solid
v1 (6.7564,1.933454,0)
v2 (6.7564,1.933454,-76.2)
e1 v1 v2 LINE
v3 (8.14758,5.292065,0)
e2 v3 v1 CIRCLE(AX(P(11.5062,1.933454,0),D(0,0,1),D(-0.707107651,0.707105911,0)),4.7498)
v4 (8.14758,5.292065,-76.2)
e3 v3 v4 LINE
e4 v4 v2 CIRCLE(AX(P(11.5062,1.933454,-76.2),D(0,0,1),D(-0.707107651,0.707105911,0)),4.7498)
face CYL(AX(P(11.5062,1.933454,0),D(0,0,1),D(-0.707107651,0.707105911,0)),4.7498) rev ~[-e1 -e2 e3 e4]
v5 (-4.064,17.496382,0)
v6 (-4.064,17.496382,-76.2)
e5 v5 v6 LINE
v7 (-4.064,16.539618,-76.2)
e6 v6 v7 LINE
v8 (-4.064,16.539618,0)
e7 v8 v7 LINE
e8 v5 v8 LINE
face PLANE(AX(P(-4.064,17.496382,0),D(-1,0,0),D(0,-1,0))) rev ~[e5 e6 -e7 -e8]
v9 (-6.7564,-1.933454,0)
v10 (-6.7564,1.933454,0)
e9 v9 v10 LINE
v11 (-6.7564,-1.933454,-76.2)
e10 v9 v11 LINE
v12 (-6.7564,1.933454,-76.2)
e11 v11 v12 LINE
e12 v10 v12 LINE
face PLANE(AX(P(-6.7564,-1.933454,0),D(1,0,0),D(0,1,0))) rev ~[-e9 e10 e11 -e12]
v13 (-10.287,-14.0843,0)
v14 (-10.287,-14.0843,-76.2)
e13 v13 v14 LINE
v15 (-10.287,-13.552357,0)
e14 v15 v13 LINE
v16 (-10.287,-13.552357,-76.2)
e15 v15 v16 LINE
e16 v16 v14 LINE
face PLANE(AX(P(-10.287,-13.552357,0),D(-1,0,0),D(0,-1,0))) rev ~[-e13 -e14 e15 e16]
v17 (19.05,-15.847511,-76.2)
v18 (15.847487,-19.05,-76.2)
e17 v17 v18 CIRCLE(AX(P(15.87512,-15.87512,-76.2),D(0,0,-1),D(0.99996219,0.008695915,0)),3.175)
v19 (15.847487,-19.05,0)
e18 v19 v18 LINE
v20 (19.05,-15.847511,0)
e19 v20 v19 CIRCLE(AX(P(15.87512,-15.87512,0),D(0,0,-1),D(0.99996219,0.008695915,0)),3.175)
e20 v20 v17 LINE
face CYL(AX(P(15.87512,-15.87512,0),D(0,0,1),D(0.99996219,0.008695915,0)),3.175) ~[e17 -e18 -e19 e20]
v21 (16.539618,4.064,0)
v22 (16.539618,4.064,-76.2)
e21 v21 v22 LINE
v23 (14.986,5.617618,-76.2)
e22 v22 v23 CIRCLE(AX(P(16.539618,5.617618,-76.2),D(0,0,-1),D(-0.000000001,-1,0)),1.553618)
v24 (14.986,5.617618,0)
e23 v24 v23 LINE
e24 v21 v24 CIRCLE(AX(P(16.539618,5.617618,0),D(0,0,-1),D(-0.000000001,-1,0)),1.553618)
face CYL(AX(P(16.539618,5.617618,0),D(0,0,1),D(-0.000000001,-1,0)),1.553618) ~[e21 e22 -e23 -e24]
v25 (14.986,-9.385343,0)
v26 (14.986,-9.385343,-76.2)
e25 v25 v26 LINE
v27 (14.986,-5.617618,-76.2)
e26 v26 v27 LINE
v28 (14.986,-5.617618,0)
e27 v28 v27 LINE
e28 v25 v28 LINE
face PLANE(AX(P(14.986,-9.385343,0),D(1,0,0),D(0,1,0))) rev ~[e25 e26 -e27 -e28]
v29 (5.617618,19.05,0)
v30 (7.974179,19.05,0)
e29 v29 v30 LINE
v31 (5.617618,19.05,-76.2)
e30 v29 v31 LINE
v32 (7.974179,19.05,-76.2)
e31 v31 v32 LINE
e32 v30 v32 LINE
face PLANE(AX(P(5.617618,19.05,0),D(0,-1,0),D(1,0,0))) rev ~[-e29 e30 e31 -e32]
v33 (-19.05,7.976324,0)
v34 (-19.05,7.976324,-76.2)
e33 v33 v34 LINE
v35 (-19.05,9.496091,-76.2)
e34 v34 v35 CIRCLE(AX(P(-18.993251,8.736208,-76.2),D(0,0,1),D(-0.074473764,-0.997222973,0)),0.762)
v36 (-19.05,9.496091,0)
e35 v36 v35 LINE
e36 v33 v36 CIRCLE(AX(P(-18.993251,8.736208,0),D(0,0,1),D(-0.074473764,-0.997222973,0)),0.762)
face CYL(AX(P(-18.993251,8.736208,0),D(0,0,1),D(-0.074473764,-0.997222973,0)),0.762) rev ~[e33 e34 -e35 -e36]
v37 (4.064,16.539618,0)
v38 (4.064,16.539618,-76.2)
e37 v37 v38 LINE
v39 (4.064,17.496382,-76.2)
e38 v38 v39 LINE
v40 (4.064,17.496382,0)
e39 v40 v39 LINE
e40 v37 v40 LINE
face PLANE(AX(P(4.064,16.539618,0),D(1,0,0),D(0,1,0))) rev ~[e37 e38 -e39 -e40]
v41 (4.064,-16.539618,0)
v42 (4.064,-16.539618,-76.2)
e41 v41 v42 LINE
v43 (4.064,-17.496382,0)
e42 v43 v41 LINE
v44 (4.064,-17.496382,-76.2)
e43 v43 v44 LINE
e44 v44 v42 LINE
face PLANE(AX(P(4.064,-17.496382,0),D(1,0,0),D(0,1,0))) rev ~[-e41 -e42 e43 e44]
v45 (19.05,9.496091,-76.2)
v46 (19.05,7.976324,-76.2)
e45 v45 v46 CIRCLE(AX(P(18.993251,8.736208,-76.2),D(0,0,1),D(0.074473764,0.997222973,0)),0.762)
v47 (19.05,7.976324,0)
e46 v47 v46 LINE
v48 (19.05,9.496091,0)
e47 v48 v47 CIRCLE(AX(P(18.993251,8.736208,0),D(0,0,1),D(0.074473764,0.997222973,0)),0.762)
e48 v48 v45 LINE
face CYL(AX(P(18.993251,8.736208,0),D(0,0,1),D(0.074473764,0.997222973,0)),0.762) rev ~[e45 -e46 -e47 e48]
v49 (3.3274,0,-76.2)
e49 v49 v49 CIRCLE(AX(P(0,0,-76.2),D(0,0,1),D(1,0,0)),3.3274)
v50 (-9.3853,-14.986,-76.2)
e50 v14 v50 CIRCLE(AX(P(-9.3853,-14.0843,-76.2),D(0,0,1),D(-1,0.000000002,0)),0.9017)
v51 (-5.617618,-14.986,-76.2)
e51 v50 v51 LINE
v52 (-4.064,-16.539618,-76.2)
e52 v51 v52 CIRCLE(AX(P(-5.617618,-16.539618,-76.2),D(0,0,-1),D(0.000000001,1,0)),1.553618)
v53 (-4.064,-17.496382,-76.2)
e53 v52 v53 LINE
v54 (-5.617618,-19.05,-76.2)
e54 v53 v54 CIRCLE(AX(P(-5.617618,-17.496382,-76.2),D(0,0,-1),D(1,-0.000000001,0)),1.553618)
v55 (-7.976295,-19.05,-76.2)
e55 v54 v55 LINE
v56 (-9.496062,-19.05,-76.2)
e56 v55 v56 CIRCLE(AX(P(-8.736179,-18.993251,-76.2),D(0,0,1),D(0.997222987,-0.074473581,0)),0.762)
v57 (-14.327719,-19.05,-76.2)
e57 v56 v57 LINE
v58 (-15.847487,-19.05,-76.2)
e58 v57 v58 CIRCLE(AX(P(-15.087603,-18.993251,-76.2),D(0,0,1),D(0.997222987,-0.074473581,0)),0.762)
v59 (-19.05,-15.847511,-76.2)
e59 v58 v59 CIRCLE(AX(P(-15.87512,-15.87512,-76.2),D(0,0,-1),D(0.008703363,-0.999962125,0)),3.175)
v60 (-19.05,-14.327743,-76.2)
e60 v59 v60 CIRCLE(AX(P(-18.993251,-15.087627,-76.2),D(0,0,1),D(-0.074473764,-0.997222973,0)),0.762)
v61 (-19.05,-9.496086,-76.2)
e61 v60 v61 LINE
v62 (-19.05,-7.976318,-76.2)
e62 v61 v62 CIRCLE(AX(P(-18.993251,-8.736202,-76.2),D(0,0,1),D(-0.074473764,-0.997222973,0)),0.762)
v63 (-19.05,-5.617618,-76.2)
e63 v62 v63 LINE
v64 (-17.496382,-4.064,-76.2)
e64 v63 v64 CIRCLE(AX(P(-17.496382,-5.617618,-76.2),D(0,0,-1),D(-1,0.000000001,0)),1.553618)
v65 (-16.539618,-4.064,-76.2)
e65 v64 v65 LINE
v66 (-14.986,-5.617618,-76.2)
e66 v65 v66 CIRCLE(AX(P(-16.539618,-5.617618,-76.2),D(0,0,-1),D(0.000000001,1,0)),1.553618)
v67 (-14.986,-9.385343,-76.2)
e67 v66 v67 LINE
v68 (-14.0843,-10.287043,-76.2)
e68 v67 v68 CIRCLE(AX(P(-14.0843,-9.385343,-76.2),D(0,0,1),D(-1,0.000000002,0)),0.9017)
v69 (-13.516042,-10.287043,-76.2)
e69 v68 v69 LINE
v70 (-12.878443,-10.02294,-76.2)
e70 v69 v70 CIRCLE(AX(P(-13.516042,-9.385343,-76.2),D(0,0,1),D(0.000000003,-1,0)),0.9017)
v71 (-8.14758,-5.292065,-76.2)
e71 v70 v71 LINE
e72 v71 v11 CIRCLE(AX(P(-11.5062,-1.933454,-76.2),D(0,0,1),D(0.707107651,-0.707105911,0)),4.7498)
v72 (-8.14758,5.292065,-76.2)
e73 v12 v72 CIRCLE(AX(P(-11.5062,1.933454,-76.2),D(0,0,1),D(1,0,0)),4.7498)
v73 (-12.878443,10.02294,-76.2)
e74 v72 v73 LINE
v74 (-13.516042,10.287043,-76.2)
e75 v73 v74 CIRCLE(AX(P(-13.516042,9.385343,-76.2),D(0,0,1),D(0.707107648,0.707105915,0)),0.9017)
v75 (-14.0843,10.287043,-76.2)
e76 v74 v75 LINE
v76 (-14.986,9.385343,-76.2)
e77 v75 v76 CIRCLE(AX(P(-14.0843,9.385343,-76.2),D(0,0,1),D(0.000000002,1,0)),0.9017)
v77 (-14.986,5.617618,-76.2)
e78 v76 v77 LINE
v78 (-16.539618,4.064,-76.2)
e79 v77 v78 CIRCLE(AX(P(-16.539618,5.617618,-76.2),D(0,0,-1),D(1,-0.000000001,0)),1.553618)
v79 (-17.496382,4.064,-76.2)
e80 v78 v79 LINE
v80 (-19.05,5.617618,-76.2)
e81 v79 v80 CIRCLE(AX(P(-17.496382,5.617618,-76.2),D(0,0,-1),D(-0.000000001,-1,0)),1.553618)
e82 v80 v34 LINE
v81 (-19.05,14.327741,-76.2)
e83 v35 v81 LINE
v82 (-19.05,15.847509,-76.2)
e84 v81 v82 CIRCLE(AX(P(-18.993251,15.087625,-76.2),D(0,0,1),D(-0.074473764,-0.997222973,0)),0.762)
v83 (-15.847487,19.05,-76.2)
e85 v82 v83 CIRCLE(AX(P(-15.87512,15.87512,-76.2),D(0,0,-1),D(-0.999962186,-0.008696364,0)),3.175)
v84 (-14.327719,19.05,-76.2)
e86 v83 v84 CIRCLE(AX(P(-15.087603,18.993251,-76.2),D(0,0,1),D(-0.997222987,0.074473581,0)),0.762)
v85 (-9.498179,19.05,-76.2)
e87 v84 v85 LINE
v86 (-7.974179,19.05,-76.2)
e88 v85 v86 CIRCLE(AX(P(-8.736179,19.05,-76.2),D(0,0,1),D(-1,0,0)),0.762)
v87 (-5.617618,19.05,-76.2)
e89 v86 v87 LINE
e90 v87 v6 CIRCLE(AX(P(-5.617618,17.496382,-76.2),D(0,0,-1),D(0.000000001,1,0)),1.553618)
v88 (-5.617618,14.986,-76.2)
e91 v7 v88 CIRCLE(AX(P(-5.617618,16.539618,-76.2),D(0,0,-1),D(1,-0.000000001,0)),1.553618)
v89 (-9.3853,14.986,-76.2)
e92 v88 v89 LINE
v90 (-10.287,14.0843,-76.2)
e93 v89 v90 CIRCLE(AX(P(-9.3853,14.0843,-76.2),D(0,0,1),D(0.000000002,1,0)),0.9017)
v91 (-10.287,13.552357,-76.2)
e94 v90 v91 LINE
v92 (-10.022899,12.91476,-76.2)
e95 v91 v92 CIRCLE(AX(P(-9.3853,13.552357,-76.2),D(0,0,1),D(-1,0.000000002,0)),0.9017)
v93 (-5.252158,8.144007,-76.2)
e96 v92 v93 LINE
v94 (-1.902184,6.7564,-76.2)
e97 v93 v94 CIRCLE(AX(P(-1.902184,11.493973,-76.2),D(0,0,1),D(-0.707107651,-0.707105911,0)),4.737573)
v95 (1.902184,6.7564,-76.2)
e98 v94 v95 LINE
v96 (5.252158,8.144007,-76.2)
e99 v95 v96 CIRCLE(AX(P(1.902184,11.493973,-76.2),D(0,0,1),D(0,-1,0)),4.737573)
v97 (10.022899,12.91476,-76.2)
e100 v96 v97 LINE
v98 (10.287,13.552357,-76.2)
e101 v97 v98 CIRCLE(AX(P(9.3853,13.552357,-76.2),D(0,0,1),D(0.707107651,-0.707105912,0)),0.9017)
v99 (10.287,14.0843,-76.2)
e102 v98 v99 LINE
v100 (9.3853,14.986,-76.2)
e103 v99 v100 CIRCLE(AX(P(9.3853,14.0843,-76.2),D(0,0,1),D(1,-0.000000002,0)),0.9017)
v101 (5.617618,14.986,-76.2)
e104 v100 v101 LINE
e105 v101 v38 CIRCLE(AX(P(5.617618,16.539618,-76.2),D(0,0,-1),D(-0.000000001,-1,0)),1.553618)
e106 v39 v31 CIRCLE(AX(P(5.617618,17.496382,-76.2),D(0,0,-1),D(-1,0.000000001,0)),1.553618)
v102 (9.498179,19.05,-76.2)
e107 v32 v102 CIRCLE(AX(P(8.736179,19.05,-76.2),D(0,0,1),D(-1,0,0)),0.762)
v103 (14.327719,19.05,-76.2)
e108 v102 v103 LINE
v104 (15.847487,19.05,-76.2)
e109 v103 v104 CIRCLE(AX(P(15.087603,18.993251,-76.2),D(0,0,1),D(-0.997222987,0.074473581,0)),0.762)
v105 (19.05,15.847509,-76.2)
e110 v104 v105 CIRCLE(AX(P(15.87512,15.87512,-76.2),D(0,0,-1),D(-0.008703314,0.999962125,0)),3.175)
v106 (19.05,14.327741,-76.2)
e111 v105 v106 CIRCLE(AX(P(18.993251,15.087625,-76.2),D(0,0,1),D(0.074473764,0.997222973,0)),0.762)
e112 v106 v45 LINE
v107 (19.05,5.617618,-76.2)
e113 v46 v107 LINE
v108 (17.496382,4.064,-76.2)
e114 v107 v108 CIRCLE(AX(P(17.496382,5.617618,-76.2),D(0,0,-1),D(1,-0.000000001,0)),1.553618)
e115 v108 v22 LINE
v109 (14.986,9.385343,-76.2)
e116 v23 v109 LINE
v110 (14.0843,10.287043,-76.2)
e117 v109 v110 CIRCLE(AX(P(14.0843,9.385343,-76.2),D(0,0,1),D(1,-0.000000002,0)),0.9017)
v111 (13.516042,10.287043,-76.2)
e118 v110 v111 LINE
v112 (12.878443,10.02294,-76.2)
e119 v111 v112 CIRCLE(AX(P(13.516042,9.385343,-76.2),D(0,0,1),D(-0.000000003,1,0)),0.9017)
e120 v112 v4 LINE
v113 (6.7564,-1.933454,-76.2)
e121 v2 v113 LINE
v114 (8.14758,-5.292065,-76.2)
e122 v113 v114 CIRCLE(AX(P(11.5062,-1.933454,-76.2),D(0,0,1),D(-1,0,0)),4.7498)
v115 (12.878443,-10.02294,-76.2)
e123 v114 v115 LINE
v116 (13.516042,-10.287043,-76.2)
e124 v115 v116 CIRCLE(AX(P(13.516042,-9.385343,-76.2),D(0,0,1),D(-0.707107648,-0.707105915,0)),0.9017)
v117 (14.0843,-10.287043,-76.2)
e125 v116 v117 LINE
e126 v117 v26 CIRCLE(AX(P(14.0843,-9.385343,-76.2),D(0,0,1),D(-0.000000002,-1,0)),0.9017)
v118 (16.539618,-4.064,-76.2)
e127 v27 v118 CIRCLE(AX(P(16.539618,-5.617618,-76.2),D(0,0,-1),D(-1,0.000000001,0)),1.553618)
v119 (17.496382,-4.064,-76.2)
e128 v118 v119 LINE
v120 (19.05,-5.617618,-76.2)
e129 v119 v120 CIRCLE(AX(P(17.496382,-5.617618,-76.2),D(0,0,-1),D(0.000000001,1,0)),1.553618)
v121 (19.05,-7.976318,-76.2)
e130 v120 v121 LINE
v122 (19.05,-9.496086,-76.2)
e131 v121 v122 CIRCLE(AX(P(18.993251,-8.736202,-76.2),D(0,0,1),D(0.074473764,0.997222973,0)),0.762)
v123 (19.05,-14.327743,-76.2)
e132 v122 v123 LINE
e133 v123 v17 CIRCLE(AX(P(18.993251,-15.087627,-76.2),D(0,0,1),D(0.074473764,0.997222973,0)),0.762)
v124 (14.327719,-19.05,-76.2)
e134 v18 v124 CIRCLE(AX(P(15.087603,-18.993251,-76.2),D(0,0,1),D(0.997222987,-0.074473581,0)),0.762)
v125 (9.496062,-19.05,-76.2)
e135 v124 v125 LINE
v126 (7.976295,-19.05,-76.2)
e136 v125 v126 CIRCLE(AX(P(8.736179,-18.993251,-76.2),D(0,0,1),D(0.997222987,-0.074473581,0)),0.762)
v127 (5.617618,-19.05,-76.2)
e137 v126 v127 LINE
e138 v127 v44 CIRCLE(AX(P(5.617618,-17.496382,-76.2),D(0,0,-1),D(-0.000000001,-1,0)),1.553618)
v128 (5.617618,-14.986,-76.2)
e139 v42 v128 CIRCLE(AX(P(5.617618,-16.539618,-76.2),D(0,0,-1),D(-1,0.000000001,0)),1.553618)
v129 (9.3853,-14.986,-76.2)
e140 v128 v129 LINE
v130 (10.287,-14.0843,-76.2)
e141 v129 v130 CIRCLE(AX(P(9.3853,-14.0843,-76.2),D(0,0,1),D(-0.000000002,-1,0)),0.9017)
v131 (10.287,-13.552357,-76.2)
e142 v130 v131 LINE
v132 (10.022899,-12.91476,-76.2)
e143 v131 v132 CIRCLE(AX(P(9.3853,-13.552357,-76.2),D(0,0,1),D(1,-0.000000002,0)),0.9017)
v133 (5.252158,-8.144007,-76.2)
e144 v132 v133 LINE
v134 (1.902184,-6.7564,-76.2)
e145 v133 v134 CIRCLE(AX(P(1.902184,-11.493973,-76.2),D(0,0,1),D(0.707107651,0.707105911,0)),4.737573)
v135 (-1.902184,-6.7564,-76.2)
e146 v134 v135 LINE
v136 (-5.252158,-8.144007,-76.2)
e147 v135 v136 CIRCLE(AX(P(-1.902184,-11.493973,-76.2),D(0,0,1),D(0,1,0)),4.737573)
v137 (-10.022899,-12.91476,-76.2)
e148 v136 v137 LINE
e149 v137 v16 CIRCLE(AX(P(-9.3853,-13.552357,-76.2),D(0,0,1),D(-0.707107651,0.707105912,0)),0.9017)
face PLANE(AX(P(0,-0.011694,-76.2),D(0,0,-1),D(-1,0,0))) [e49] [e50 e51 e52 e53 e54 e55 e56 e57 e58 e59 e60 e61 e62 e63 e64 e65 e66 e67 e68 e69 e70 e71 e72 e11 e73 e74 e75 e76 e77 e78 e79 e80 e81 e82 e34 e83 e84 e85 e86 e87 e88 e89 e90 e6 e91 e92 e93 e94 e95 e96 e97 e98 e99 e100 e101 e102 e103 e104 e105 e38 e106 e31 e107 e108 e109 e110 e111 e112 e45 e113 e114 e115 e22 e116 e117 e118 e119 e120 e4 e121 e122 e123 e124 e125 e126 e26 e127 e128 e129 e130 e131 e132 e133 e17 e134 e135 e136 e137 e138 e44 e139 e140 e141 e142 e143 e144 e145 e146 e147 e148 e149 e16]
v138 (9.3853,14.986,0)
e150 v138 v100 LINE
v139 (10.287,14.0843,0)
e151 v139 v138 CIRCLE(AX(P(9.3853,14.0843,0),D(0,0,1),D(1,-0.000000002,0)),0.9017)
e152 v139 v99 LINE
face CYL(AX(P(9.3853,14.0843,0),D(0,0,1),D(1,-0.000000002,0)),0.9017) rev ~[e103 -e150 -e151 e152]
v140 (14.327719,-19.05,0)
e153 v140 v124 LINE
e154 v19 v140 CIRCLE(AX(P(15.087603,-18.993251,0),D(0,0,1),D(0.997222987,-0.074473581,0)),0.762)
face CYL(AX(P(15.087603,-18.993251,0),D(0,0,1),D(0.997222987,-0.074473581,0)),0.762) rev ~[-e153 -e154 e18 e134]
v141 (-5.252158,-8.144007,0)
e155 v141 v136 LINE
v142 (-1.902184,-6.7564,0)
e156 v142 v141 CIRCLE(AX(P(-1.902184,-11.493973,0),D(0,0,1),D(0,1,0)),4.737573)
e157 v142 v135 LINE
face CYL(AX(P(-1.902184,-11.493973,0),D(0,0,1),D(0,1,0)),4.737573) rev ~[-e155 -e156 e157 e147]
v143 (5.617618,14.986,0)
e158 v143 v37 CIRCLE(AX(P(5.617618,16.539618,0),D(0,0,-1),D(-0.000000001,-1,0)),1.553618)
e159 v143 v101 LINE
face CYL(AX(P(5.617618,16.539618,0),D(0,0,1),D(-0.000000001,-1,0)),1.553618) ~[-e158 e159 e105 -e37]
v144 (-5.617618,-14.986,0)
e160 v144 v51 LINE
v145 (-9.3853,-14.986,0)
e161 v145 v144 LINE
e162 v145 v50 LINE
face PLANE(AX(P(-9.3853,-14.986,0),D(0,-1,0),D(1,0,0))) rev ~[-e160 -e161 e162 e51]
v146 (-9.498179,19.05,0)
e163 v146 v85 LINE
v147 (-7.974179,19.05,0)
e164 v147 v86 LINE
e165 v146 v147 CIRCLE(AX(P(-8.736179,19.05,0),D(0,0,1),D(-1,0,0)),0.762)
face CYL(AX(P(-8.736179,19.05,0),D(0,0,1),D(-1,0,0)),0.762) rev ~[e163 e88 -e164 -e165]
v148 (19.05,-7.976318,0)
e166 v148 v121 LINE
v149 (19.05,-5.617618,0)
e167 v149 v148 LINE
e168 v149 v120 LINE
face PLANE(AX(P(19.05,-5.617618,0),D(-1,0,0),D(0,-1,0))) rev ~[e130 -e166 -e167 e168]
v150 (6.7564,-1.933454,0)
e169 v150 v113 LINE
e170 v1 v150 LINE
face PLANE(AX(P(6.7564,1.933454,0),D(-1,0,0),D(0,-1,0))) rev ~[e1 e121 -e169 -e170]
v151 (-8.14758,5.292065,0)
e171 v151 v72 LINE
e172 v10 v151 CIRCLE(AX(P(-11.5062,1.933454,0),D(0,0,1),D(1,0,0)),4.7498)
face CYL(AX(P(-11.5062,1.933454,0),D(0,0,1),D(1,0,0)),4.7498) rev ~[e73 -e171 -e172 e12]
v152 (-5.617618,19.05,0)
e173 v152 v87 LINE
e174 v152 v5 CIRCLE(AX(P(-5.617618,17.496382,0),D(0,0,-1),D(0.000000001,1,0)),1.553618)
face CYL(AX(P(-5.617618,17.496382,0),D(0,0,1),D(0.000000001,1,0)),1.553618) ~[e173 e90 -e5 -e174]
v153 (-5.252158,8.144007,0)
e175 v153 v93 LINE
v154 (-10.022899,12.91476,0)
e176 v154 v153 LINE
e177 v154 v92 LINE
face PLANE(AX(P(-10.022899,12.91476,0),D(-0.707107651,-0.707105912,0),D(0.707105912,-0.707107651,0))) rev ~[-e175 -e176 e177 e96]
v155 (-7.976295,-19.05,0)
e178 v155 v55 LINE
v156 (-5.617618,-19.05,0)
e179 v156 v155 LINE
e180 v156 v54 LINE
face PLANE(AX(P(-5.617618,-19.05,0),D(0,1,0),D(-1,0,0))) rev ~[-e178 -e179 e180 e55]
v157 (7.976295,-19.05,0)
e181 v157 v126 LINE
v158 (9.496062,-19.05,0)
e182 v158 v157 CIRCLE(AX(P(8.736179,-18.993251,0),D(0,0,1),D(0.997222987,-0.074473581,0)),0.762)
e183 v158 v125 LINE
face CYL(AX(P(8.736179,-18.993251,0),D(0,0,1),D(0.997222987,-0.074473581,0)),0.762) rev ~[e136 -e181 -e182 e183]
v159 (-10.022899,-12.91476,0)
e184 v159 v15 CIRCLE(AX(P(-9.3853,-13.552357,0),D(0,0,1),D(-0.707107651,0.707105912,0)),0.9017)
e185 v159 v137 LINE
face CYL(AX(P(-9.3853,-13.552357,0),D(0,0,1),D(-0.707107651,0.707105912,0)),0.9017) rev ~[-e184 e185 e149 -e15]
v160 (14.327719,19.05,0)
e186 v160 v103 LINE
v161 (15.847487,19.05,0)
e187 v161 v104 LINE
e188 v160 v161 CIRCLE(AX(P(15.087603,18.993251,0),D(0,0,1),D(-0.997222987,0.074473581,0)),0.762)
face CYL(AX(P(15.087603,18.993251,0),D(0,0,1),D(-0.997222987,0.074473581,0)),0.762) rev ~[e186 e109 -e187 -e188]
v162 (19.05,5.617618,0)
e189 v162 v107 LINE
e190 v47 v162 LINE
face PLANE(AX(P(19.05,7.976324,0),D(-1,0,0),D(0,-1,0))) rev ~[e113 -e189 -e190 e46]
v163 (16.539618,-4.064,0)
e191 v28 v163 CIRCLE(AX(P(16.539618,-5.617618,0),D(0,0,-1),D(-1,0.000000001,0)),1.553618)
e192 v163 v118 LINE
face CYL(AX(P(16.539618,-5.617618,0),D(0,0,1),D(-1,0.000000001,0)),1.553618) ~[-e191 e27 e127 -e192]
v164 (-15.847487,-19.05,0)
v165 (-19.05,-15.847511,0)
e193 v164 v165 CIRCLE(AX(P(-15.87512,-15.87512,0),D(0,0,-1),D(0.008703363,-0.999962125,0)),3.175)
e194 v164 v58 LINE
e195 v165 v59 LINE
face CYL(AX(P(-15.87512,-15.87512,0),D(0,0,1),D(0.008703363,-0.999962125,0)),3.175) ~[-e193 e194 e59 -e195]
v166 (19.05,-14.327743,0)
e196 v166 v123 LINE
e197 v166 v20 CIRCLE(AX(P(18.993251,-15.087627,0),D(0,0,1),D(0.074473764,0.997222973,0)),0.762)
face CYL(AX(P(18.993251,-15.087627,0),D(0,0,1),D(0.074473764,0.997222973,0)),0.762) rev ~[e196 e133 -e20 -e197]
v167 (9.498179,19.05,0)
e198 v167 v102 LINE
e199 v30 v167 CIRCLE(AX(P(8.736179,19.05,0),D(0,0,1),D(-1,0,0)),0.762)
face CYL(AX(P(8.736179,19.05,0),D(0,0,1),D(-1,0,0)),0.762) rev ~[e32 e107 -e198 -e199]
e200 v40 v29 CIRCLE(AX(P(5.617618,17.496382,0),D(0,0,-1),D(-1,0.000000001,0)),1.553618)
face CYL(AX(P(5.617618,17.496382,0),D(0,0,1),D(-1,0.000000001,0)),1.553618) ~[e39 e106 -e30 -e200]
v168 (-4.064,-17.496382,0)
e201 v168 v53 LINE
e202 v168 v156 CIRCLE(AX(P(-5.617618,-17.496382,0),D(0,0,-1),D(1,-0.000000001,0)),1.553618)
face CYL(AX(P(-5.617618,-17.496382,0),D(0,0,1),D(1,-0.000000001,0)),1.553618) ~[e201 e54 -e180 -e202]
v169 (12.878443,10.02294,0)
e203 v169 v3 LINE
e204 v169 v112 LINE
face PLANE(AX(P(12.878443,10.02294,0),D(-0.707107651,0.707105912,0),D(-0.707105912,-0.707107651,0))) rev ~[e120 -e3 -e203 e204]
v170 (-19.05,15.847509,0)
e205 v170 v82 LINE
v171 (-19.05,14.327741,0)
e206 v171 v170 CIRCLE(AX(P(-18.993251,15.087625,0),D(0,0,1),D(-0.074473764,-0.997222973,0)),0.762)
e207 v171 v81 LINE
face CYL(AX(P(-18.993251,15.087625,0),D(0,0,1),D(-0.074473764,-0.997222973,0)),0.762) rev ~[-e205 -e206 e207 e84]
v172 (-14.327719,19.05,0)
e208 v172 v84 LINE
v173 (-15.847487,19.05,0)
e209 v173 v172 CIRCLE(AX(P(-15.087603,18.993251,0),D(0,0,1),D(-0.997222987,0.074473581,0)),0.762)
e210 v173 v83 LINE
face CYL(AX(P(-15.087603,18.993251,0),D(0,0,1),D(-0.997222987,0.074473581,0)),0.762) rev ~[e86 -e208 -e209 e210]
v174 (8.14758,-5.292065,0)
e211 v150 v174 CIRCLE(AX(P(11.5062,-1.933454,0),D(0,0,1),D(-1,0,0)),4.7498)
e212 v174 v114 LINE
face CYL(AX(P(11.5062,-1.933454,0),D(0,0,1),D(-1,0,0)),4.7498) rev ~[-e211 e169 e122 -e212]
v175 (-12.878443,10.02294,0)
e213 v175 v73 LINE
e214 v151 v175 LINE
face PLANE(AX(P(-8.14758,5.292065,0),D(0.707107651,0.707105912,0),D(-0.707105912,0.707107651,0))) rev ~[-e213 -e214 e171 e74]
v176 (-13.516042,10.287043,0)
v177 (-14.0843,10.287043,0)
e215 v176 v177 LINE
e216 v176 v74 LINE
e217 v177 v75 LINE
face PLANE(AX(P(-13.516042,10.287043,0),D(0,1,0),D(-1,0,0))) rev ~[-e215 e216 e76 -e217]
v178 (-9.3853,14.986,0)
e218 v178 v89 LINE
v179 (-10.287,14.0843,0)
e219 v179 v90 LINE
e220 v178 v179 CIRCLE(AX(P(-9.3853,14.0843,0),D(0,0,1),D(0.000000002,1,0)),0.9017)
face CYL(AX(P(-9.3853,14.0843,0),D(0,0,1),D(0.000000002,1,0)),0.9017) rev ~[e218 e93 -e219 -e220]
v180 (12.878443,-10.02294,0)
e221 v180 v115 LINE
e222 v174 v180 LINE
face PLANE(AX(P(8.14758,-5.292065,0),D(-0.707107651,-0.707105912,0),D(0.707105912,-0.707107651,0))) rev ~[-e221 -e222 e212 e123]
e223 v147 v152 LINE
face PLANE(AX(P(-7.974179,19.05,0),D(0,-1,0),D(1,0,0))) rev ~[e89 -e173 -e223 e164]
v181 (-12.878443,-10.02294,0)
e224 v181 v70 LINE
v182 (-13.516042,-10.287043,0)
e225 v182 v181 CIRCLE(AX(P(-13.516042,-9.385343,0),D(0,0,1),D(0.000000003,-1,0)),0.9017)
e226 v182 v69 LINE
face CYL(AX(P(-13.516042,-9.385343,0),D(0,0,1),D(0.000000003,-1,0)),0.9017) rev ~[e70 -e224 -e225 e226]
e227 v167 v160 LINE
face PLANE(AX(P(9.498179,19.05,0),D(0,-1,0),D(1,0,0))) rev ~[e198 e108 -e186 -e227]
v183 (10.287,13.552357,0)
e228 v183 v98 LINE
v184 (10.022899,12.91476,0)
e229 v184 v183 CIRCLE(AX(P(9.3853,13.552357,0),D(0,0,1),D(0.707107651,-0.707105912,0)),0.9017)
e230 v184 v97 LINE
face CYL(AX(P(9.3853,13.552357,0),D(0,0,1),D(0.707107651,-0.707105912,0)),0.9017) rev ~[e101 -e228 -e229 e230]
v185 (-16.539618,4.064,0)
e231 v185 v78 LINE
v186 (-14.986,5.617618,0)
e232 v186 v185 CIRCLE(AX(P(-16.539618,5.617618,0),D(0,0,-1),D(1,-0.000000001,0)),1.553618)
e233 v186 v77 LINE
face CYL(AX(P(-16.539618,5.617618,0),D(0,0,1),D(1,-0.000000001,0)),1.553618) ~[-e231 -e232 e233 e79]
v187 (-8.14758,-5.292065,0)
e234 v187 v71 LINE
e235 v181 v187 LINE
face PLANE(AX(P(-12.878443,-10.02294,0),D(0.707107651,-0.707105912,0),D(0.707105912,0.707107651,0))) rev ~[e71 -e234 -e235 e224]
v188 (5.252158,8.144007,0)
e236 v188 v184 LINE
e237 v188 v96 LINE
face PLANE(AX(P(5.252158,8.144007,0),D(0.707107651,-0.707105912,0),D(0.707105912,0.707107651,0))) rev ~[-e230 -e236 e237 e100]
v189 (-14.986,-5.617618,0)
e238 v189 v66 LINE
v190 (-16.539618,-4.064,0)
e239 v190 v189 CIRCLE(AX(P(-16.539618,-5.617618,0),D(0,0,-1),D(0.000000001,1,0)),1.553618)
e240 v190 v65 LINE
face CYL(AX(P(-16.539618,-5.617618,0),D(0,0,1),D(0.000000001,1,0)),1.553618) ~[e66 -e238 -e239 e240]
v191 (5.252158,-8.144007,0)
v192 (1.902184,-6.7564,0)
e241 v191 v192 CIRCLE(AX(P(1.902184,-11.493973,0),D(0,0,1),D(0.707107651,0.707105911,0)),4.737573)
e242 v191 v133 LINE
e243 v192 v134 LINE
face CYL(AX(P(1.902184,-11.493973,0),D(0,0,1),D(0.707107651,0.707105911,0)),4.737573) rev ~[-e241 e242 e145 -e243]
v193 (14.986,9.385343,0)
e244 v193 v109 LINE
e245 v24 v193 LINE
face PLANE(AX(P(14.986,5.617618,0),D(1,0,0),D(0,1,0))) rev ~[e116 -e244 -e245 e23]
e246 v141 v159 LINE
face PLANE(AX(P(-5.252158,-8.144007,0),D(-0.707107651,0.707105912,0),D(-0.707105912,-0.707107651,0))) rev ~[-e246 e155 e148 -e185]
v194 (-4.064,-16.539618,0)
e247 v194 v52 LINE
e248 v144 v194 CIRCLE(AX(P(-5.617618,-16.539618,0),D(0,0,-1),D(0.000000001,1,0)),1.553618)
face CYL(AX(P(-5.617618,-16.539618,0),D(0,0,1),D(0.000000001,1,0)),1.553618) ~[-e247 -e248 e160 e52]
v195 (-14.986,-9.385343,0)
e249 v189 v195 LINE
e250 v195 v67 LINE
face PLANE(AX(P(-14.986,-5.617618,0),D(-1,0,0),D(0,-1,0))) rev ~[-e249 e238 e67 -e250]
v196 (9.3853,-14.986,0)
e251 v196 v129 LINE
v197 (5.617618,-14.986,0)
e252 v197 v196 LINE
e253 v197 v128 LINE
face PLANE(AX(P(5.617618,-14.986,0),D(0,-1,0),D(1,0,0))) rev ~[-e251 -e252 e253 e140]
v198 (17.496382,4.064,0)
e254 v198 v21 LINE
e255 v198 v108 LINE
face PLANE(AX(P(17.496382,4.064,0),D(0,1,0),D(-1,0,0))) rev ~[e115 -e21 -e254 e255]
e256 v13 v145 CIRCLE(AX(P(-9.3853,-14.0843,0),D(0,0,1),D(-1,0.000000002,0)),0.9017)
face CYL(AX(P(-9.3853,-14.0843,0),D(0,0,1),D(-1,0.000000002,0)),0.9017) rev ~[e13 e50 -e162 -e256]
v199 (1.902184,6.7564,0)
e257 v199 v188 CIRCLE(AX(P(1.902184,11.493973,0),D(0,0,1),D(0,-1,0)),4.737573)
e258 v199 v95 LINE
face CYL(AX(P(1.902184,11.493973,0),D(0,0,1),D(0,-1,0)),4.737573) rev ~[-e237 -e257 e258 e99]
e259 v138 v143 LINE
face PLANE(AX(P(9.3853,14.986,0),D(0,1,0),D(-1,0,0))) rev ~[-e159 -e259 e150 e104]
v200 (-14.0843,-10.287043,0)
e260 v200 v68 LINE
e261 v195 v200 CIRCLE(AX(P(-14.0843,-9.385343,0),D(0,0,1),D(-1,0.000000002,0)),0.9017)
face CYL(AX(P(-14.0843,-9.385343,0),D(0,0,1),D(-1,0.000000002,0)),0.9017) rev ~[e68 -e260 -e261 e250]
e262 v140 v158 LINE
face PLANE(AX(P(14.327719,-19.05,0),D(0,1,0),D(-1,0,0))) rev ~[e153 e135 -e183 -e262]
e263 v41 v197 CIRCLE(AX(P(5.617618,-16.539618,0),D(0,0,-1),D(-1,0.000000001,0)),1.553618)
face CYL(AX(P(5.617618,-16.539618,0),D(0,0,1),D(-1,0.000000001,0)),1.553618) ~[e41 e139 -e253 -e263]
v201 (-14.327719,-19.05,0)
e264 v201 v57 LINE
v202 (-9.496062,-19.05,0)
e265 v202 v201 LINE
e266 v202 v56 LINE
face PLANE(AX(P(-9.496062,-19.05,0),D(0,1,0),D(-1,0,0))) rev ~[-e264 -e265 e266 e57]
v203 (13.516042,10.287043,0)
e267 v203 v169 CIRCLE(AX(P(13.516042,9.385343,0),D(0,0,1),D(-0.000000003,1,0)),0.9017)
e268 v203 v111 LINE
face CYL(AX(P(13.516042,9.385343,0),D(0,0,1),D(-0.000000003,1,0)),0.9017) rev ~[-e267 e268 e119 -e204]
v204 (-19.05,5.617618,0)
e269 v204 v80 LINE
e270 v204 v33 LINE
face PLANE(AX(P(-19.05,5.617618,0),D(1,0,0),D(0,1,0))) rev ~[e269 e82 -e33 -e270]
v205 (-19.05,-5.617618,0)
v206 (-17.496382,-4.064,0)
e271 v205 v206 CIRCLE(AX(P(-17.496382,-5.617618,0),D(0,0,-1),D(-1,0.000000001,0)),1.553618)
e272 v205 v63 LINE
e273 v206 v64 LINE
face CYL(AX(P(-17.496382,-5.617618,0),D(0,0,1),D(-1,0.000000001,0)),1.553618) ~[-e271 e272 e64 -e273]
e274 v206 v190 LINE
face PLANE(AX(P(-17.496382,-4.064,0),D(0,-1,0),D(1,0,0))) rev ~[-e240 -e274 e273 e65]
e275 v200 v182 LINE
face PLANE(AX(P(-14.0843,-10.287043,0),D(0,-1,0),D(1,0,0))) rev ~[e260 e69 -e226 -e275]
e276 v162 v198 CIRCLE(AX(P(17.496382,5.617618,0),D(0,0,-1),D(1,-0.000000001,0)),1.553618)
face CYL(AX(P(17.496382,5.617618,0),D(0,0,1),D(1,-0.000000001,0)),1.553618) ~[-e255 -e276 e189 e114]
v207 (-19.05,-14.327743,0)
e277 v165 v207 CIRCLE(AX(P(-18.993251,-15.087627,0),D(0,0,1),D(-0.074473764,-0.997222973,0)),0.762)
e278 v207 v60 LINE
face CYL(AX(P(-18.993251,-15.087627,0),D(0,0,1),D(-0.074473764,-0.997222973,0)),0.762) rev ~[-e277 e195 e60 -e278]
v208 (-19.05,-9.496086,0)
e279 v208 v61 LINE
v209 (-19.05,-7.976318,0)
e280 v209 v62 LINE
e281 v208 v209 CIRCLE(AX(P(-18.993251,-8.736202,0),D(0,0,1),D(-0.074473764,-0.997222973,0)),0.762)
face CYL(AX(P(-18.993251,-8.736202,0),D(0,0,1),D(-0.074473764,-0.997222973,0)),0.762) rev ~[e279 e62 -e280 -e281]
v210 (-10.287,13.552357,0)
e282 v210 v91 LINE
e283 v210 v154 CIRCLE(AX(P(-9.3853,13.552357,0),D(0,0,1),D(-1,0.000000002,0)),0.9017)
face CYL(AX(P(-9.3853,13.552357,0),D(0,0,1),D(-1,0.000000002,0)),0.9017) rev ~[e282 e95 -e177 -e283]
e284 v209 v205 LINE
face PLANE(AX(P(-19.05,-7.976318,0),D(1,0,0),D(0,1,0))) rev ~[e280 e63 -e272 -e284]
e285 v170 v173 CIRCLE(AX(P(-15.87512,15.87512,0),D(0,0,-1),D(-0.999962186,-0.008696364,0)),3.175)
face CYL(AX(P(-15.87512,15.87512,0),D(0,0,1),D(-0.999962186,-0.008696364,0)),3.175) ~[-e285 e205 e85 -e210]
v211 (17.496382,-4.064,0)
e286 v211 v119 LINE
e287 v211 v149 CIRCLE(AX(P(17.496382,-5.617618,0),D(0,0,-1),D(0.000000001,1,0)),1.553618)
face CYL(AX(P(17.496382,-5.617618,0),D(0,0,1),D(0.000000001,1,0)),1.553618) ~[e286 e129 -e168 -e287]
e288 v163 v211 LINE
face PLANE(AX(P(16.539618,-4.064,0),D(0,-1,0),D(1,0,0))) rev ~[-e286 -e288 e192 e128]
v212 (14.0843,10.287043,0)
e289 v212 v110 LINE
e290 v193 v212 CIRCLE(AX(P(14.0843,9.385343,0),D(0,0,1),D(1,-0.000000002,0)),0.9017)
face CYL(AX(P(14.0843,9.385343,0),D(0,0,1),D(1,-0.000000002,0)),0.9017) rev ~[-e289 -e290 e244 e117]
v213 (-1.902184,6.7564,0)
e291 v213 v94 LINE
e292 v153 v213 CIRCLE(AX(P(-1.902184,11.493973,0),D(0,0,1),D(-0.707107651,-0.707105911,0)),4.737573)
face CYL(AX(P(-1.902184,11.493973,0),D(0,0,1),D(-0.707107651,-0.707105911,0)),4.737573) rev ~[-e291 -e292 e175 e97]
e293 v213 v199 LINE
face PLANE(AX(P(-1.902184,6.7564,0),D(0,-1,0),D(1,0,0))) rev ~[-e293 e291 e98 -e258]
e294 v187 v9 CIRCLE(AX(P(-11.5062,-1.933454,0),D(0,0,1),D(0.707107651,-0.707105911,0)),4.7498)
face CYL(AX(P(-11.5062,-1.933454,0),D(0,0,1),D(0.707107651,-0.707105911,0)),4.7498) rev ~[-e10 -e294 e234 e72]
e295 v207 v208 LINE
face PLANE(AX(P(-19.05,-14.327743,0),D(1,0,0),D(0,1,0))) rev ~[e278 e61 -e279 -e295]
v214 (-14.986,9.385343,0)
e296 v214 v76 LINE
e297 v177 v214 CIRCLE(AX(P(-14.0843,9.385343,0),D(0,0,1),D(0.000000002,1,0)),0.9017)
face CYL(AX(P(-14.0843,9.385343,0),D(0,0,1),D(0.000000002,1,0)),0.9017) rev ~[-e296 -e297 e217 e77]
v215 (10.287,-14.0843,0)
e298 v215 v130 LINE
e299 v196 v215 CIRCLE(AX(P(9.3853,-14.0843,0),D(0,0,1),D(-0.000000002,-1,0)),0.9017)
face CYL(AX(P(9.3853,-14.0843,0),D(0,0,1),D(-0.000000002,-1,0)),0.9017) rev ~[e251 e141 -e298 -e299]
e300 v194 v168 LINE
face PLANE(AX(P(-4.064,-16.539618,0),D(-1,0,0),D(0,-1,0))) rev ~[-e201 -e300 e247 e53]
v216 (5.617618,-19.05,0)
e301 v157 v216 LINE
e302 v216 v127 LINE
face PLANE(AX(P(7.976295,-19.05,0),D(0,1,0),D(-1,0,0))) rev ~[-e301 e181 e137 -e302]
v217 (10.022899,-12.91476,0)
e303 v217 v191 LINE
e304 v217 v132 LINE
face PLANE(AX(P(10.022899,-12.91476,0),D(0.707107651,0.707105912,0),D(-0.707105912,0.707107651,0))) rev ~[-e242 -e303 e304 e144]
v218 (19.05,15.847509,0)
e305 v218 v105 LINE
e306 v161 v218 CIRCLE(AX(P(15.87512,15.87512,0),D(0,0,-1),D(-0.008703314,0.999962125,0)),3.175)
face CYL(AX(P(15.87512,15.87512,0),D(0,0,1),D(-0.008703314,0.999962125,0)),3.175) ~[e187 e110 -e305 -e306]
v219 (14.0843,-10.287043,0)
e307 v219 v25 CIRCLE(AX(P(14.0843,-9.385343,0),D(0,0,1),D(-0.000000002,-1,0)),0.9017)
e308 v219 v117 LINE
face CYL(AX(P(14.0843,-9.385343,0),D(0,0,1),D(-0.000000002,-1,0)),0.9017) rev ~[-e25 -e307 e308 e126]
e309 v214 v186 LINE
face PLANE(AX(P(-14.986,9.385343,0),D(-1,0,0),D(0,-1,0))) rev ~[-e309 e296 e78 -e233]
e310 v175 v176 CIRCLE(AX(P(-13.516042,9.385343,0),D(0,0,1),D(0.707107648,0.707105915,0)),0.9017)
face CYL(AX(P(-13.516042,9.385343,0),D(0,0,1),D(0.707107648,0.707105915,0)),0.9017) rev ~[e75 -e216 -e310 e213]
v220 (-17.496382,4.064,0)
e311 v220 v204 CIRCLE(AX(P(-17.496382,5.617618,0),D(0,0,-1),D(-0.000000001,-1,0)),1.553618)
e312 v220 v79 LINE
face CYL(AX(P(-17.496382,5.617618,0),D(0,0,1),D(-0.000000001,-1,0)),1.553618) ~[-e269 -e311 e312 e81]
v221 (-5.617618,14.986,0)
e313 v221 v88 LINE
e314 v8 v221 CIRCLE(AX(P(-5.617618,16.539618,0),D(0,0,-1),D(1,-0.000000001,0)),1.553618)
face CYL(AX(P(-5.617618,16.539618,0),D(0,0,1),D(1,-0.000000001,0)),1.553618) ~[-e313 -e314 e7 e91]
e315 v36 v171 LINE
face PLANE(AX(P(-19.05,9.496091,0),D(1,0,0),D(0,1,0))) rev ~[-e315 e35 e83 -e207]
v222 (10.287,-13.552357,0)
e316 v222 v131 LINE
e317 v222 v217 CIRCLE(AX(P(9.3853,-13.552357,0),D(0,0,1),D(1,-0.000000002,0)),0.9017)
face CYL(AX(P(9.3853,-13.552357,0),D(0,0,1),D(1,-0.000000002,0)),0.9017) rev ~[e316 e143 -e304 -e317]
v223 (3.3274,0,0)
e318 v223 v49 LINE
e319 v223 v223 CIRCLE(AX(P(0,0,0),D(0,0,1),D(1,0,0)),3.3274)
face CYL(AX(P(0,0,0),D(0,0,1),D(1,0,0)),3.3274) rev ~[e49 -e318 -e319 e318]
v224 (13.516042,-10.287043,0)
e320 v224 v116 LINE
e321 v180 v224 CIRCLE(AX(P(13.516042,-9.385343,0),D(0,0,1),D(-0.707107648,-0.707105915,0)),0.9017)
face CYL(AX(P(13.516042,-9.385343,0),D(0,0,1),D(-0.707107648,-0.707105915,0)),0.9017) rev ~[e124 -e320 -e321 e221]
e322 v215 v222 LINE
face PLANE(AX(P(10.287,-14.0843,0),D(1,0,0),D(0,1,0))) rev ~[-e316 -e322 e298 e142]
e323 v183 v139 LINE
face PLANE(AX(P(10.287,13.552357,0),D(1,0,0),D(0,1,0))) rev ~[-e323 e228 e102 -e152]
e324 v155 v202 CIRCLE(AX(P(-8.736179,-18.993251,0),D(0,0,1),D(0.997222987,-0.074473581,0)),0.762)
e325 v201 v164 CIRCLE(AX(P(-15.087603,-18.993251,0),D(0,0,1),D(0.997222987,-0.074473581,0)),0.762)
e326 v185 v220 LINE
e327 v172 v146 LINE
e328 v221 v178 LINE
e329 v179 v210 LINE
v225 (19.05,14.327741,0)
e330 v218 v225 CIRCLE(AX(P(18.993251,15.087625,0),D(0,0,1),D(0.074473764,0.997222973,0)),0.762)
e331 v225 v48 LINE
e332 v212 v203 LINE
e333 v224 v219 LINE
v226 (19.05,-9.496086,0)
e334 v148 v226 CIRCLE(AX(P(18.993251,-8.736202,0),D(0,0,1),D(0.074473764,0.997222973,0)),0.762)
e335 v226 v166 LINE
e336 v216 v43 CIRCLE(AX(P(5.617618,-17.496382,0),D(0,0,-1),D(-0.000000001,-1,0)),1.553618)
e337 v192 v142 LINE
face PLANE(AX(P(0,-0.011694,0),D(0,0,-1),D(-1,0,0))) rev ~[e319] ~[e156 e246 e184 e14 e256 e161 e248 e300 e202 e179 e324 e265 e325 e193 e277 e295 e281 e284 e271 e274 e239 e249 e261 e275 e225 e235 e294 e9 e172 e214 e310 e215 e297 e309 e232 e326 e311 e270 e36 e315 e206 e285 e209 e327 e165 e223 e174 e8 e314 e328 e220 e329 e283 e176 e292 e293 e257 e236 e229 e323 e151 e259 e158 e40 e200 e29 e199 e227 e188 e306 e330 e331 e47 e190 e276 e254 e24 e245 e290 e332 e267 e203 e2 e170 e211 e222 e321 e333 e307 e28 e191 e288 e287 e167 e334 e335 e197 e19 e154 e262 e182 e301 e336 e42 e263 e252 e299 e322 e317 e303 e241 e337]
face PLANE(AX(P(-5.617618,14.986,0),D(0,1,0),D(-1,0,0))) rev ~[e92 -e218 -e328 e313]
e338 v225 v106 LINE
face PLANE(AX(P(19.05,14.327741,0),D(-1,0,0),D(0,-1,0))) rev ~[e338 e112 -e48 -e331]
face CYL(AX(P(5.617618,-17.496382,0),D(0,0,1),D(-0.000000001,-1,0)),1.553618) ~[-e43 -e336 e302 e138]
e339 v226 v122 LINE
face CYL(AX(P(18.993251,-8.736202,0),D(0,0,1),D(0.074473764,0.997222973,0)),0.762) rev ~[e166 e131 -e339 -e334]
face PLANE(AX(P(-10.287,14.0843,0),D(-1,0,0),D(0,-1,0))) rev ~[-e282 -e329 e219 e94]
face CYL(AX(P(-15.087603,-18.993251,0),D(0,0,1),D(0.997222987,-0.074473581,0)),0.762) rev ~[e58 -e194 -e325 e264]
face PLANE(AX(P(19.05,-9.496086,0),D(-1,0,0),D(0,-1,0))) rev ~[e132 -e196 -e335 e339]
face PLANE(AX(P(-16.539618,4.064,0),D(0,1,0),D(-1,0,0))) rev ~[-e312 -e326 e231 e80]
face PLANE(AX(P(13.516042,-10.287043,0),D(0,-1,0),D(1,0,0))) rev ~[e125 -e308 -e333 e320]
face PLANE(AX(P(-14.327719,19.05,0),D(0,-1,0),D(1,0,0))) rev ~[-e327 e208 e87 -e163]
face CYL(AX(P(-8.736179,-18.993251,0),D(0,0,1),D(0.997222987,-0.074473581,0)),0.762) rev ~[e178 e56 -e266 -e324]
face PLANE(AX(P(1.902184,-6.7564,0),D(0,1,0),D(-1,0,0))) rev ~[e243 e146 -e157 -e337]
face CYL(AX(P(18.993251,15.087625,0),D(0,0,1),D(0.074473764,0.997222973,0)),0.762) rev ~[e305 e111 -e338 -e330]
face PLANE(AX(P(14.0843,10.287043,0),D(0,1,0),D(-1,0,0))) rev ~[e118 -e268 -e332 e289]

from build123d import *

# Parameters (mm, degrees)
SKETCH1_R      = 3.3274
EXTRUDE1_DEPTH = 76.2


with BuildPart() as part:
    # Sketch1 → Extrude1 (new body)
    with BuildSketch(Plane.XY):
        with BuildLine():
            Line((-10.022898969, 12.91475973), (-5.252158105, 8.144007132))
            ThreePointArc((-5.252158105, 8.144007132), (-3.715177372, 7.117027388), (-1.902183975, 6.7564))
            Line((-1.902183975, 6.7564), (1.902183975, 6.7564))
            ThreePointArc((1.902183975, 6.7564), (3.715177372, 7.117027388), (5.252158105, 8.144007132))
            Line((5.252158105, 8.144007132), (10.022898969, 12.91475973))
            ThreePointArc((10.022898969, 12.91475973), (10.218362387, 13.207291992), (10.287, 13.552357131))
            Line((10.287, 13.552357131), (10.287, 14.0843))
            ThreePointArc((10.287, 14.0843), (10.022898185, 14.721898185), (9.3853, 14.986))
            Line((9.3853, 14.986), (5.617617549, 14.986))
            ThreePointArc((5.617617549, 14.986), (4.519044045, 15.441044045), (4.064, 16.539617549))
            Line((4.064, 16.539617549), (4.064, 17.496382451))
            ThreePointArc((4.064, 17.496382451), (4.519044045, 18.594955955), (5.617617549, 19.05))
            Line((5.617617549, 19.05), (7.974178704, 19.05))
            ThreePointArc((7.974178704, 19.05), (8.736178704, 18.288), (9.498178704, 19.05))
            Line((9.498178704, 19.05), (14.327719207, 19.05))
            ThreePointArc((14.327719207, 19.05), (15.087603123, 18.231251131), (15.847487039, 19.05))
            ThreePointArc((15.847487039, 19.05), (18.120176289, 18.120192083), (19.05, 15.847509295))
            ThreePointArc((19.05, 15.847509295), (18.231250992, 15.08762539), (19.05, 14.327741484))
            Line((19.05, 14.327741484), (19.05, 9.496091471))
            ThreePointArc((19.05, 9.496091471), (18.231250992, 8.736207565), (19.05, 7.97632366))
            Line((19.05, 7.97632366), (19.05, 5.617617549))
            ThreePointArc((19.05, 5.617617549), (18.594955955, 4.519044045), (17.496382451, 4.064))
            Line((17.496382451, 4.064), (16.539617549, 4.064))
            ThreePointArc((16.539617549, 4.064), (15.441044045, 4.519044045), (14.986, 5.617617549))
            Line((14.986, 5.617617549), (14.986, 9.385342516))
            ThreePointArc((14.986, 9.385342516), (14.721898185, 10.022940701), (14.0843, 10.287042516))
            Line((14.0843, 10.287042516), (13.516042086, 10.287042516))
            ThreePointArc((13.516042086, 10.287042516), (13.170975923, 10.218404478), (12.878443117, 10.022939917))
            Line((12.878443117, 10.022939917), (8.14758008, 5.292065243))
            ThreePointArc((8.14758008, 5.292065243), (7.117955879, 3.751120653), (6.7564, 1.933453584))
            Line((6.7564, 1.933453584), (6.7564, -1.933453584))
            ThreePointArc((6.7564, -1.933453584), (7.117955879, -3.751120653), (8.14758008, -5.292065243))
            Line((8.14758008, -5.292065243), (12.878443117, -10.022939917))
            ThreePointArc((12.878443117, -10.022939917), (13.170975923, -10.218404478), (13.516042086, -10.287042516))
            Line((13.516042086, -10.287042516), (14.0843, -10.287042516))
            ThreePointArc((14.0843, -10.287042516), (14.721898185, -10.022940701), (14.986, -9.385342516))
            Line((14.986, -9.385342516), (14.986, -5.617617549))
            ThreePointArc((14.986, -5.617617549), (15.441044045, -4.519044045), (16.539617549, -4.064))
            Line((16.539617549, -4.064), (17.496382451, -4.064))
            ThreePointArc((17.496382451, -4.064), (18.594955955, -4.519044045), (19.05, -5.617617549))
            Line((19.05, -5.617617549), (19.05, -7.976318491))
            ThreePointArc((19.05, -7.976318491), (18.231250992, -8.736202396), (19.05, -9.496086302))
            Line((19.05, -9.496086302), (19.05, -14.32774291))
            ThreePointArc((19.05, -14.32774291), (18.231250992, -15.087626816), (19.05, -15.847510721))
            ThreePointArc((19.05, -15.847510721), (18.120175716, -18.120192644), (15.847486868, -19.05))
            ThreePointArc((15.847486868, -19.05), (15.087602952, -18.231251131), (14.327719036, -19.05))
            Line((14.327719036, -19.05), (9.496062448, -19.05))
            ThreePointArc((9.496062448, -19.05), (8.736178532, -18.231251131), (7.976294616, -19.05))
            Line((7.976294616, -19.05), (5.617617549, -19.05))
            ThreePointArc((5.617617549, -19.05), (4.519044045, -18.594955955), (4.064, -17.496382451))
            Line((4.064, -17.496382451), (4.064, -16.539617549))
            ThreePointArc((4.064, -16.539617549), (4.519044045, -15.441044045), (5.617617549, -14.986))
            Line((5.617617549, -14.986), (9.3853, -14.986))
            ThreePointArc((9.3853, -14.986), (10.022898185, -14.721898185), (10.287, -14.0843))
            Line((10.287, -14.0843), (10.287, -13.552357131))
            ThreePointArc((10.287, -13.552357131), (10.218362387, -13.207291992), (10.022898969, -12.91475973))
            Line((10.022898969, -12.91475973), (5.252158105, -8.144007132))
            ThreePointArc((5.252158105, -8.144007132), (3.715177372, -7.117027388), (1.902183975, -6.7564))
            Line((1.902183975, -6.7564), (-1.902183975, -6.7564))
            ThreePointArc((-1.902183975, -6.7564), (-3.715177372, -7.117027388), (-5.252158105, -8.144007132))
            Line((-5.252158105, -8.144007132), (-10.022898969, -12.91475973))
            ThreePointArc((-10.022898969, -12.91475973), (-10.218362387, -13.207291992), (-10.287, -13.552357131))
            Line((-10.287, -13.552357131), (-10.287, -14.0843))
            ThreePointArc((-10.287, -14.0843), (-10.022898185, -14.721898185), (-9.3853, -14.986))
            Line((-9.3853, -14.986), (-5.617617549, -14.986))
            ThreePointArc((-5.617617549, -14.986), (-4.519044045, -15.441044045), (-4.064, -16.539617549))
            Line((-4.064, -16.539617549), (-4.064, -17.496382451))
            ThreePointArc((-4.064, -17.496382451), (-4.519044045, -18.594955955), (-5.617617549, -19.05))
            Line((-5.617617549, -19.05), (-7.976294616, -19.05))
            ThreePointArc((-7.976294616, -19.05), (-8.736178532, -18.231251131), (-9.496062448, -19.05))
            Line((-9.496062448, -19.05), (-14.327719036, -19.05))
            ThreePointArc((-14.327719036, -19.05), (-15.087602952, -18.231251131), (-15.847486868, -19.05))
            ThreePointArc((-15.847486868, -19.05), (-18.120175716, -18.120192644), (-19.05, -15.847510721))
            ThreePointArc((-19.05, -15.847510721), (-18.231250992, -15.087626816), (-19.05, -14.32774291))
            Line((-19.05, -14.32774291), (-19.05, -9.496086302))
            ThreePointArc((-19.05, -9.496086302), (-18.231250992, -8.736202396), (-19.05, -7.976318491))
            Line((-19.05, -7.976318491), (-19.05, -5.617617549))
            ThreePointArc((-19.05, -5.617617549), (-18.594955955, -4.519044045), (-17.496382451, -4.064))
            Line((-17.496382451, -4.064), (-16.539617549, -4.064))
            ThreePointArc((-16.539617549, -4.064), (-15.441044045, -4.519044045), (-14.986, -5.617617549))
            Line((-14.986, -5.617617549), (-14.986, -9.385342516))
            ThreePointArc((-14.986, -9.385342516), (-14.721898185, -10.022940701), (-14.0843, -10.287042516))
            Line((-14.0843, -10.287042516), (-13.516042086, -10.287042516))
            ThreePointArc((-13.516042086, -10.287042516), (-13.170975923, -10.218404478), (-12.878443117, -10.022939917))
            Line((-12.878443117, -10.022939917), (-8.14758008, -5.292065243))
            ThreePointArc((-8.14758008, -5.292065243), (-7.117955879, -3.751120653), (-6.7564, -1.933453584))
            Line((-6.7564, -1.933453584), (-6.7564, 1.933453584))
            ThreePointArc((-6.7564, 1.933453584), (-7.117955879, 3.751120653), (-8.14758008, 5.292065243))
            Line((-8.14758008, 5.292065243), (-12.878443117, 10.022939917))
            ThreePointArc((-12.878443117, 10.022939917), (-13.170975923, 10.218404478), (-13.516042086, 10.287042516))
            Line((-13.516042086, 10.287042516), (-14.0843, 10.287042516))
            ThreePointArc((-14.0843, 10.287042516), (-14.721898185, 10.022940701), (-14.986, 9.385342516))
            Line((-14.986, 9.385342516), (-14.986, 5.617617549))
            ThreePointArc((-14.986, 5.617617549), (-15.441044045, 4.519044045), (-16.539617549, 4.064))
            Line((-16.539617549, 4.064), (-17.496382451, 4.064))
            ThreePointArc((-17.496382451, 4.064), (-18.594955955, 4.519044045), (-19.05, 5.617617549))
            Line((-19.05, 5.617617549), (-19.05, 7.97632366))
            ThreePointArc((-19.05, 7.97632366), (-18.231250992, 8.736207565), (-19.05, 9.496091471))
            Line((-19.05, 9.496091471), (-19.05, 14.327741484))
            ThreePointArc((-19.05, 14.327741484), (-18.231250992, 15.08762539), (-19.05, 15.847509295))
            ThreePointArc((-19.05, 15.847509295), (-18.120176289, 18.120192083), (-15.847487039, 19.05))
            ThreePointArc((-15.847487039, 19.05), (-15.087603123, 18.231251131), (-14.327719207, 19.05))
            Line((-14.327719207, 19.05), (-9.498178704, 19.05))
            ThreePointArc((-9.498178704, 19.05), (-8.736178704, 18.288), (-7.974178704, 19.05))
            Line((-7.974178704, 19.05), (-5.617617549, 19.05))
            ThreePointArc((-5.617617549, 19.05), (-4.519044045, 18.594955955), (-4.064, 17.496382451))
            Line((-4.064, 17.496382451), (-4.064, 16.539617549))
            ThreePointArc((-4.064, 16.539617549), (-4.519044045, 15.441044045), (-5.617617549, 14.986))
            Line((-5.617617549, 14.986), (-9.3853, 14.986))
            ThreePointArc((-9.3853, 14.986), (-10.022898185, 14.721898185), (-10.287, 14.0843))
            Line((-10.287, 14.0843), (-10.287, 13.552357131))
            ThreePointArc((-10.287, 13.552357131), (-10.218362387, 13.207291992), (-10.022898969, 12.91475973))
        make_face()
        Circle(SKETCH1_R, mode=Mode.SUBTRACT)
    extrude(amount=-EXTRUDE1_DEPTH)


solid = part.part
